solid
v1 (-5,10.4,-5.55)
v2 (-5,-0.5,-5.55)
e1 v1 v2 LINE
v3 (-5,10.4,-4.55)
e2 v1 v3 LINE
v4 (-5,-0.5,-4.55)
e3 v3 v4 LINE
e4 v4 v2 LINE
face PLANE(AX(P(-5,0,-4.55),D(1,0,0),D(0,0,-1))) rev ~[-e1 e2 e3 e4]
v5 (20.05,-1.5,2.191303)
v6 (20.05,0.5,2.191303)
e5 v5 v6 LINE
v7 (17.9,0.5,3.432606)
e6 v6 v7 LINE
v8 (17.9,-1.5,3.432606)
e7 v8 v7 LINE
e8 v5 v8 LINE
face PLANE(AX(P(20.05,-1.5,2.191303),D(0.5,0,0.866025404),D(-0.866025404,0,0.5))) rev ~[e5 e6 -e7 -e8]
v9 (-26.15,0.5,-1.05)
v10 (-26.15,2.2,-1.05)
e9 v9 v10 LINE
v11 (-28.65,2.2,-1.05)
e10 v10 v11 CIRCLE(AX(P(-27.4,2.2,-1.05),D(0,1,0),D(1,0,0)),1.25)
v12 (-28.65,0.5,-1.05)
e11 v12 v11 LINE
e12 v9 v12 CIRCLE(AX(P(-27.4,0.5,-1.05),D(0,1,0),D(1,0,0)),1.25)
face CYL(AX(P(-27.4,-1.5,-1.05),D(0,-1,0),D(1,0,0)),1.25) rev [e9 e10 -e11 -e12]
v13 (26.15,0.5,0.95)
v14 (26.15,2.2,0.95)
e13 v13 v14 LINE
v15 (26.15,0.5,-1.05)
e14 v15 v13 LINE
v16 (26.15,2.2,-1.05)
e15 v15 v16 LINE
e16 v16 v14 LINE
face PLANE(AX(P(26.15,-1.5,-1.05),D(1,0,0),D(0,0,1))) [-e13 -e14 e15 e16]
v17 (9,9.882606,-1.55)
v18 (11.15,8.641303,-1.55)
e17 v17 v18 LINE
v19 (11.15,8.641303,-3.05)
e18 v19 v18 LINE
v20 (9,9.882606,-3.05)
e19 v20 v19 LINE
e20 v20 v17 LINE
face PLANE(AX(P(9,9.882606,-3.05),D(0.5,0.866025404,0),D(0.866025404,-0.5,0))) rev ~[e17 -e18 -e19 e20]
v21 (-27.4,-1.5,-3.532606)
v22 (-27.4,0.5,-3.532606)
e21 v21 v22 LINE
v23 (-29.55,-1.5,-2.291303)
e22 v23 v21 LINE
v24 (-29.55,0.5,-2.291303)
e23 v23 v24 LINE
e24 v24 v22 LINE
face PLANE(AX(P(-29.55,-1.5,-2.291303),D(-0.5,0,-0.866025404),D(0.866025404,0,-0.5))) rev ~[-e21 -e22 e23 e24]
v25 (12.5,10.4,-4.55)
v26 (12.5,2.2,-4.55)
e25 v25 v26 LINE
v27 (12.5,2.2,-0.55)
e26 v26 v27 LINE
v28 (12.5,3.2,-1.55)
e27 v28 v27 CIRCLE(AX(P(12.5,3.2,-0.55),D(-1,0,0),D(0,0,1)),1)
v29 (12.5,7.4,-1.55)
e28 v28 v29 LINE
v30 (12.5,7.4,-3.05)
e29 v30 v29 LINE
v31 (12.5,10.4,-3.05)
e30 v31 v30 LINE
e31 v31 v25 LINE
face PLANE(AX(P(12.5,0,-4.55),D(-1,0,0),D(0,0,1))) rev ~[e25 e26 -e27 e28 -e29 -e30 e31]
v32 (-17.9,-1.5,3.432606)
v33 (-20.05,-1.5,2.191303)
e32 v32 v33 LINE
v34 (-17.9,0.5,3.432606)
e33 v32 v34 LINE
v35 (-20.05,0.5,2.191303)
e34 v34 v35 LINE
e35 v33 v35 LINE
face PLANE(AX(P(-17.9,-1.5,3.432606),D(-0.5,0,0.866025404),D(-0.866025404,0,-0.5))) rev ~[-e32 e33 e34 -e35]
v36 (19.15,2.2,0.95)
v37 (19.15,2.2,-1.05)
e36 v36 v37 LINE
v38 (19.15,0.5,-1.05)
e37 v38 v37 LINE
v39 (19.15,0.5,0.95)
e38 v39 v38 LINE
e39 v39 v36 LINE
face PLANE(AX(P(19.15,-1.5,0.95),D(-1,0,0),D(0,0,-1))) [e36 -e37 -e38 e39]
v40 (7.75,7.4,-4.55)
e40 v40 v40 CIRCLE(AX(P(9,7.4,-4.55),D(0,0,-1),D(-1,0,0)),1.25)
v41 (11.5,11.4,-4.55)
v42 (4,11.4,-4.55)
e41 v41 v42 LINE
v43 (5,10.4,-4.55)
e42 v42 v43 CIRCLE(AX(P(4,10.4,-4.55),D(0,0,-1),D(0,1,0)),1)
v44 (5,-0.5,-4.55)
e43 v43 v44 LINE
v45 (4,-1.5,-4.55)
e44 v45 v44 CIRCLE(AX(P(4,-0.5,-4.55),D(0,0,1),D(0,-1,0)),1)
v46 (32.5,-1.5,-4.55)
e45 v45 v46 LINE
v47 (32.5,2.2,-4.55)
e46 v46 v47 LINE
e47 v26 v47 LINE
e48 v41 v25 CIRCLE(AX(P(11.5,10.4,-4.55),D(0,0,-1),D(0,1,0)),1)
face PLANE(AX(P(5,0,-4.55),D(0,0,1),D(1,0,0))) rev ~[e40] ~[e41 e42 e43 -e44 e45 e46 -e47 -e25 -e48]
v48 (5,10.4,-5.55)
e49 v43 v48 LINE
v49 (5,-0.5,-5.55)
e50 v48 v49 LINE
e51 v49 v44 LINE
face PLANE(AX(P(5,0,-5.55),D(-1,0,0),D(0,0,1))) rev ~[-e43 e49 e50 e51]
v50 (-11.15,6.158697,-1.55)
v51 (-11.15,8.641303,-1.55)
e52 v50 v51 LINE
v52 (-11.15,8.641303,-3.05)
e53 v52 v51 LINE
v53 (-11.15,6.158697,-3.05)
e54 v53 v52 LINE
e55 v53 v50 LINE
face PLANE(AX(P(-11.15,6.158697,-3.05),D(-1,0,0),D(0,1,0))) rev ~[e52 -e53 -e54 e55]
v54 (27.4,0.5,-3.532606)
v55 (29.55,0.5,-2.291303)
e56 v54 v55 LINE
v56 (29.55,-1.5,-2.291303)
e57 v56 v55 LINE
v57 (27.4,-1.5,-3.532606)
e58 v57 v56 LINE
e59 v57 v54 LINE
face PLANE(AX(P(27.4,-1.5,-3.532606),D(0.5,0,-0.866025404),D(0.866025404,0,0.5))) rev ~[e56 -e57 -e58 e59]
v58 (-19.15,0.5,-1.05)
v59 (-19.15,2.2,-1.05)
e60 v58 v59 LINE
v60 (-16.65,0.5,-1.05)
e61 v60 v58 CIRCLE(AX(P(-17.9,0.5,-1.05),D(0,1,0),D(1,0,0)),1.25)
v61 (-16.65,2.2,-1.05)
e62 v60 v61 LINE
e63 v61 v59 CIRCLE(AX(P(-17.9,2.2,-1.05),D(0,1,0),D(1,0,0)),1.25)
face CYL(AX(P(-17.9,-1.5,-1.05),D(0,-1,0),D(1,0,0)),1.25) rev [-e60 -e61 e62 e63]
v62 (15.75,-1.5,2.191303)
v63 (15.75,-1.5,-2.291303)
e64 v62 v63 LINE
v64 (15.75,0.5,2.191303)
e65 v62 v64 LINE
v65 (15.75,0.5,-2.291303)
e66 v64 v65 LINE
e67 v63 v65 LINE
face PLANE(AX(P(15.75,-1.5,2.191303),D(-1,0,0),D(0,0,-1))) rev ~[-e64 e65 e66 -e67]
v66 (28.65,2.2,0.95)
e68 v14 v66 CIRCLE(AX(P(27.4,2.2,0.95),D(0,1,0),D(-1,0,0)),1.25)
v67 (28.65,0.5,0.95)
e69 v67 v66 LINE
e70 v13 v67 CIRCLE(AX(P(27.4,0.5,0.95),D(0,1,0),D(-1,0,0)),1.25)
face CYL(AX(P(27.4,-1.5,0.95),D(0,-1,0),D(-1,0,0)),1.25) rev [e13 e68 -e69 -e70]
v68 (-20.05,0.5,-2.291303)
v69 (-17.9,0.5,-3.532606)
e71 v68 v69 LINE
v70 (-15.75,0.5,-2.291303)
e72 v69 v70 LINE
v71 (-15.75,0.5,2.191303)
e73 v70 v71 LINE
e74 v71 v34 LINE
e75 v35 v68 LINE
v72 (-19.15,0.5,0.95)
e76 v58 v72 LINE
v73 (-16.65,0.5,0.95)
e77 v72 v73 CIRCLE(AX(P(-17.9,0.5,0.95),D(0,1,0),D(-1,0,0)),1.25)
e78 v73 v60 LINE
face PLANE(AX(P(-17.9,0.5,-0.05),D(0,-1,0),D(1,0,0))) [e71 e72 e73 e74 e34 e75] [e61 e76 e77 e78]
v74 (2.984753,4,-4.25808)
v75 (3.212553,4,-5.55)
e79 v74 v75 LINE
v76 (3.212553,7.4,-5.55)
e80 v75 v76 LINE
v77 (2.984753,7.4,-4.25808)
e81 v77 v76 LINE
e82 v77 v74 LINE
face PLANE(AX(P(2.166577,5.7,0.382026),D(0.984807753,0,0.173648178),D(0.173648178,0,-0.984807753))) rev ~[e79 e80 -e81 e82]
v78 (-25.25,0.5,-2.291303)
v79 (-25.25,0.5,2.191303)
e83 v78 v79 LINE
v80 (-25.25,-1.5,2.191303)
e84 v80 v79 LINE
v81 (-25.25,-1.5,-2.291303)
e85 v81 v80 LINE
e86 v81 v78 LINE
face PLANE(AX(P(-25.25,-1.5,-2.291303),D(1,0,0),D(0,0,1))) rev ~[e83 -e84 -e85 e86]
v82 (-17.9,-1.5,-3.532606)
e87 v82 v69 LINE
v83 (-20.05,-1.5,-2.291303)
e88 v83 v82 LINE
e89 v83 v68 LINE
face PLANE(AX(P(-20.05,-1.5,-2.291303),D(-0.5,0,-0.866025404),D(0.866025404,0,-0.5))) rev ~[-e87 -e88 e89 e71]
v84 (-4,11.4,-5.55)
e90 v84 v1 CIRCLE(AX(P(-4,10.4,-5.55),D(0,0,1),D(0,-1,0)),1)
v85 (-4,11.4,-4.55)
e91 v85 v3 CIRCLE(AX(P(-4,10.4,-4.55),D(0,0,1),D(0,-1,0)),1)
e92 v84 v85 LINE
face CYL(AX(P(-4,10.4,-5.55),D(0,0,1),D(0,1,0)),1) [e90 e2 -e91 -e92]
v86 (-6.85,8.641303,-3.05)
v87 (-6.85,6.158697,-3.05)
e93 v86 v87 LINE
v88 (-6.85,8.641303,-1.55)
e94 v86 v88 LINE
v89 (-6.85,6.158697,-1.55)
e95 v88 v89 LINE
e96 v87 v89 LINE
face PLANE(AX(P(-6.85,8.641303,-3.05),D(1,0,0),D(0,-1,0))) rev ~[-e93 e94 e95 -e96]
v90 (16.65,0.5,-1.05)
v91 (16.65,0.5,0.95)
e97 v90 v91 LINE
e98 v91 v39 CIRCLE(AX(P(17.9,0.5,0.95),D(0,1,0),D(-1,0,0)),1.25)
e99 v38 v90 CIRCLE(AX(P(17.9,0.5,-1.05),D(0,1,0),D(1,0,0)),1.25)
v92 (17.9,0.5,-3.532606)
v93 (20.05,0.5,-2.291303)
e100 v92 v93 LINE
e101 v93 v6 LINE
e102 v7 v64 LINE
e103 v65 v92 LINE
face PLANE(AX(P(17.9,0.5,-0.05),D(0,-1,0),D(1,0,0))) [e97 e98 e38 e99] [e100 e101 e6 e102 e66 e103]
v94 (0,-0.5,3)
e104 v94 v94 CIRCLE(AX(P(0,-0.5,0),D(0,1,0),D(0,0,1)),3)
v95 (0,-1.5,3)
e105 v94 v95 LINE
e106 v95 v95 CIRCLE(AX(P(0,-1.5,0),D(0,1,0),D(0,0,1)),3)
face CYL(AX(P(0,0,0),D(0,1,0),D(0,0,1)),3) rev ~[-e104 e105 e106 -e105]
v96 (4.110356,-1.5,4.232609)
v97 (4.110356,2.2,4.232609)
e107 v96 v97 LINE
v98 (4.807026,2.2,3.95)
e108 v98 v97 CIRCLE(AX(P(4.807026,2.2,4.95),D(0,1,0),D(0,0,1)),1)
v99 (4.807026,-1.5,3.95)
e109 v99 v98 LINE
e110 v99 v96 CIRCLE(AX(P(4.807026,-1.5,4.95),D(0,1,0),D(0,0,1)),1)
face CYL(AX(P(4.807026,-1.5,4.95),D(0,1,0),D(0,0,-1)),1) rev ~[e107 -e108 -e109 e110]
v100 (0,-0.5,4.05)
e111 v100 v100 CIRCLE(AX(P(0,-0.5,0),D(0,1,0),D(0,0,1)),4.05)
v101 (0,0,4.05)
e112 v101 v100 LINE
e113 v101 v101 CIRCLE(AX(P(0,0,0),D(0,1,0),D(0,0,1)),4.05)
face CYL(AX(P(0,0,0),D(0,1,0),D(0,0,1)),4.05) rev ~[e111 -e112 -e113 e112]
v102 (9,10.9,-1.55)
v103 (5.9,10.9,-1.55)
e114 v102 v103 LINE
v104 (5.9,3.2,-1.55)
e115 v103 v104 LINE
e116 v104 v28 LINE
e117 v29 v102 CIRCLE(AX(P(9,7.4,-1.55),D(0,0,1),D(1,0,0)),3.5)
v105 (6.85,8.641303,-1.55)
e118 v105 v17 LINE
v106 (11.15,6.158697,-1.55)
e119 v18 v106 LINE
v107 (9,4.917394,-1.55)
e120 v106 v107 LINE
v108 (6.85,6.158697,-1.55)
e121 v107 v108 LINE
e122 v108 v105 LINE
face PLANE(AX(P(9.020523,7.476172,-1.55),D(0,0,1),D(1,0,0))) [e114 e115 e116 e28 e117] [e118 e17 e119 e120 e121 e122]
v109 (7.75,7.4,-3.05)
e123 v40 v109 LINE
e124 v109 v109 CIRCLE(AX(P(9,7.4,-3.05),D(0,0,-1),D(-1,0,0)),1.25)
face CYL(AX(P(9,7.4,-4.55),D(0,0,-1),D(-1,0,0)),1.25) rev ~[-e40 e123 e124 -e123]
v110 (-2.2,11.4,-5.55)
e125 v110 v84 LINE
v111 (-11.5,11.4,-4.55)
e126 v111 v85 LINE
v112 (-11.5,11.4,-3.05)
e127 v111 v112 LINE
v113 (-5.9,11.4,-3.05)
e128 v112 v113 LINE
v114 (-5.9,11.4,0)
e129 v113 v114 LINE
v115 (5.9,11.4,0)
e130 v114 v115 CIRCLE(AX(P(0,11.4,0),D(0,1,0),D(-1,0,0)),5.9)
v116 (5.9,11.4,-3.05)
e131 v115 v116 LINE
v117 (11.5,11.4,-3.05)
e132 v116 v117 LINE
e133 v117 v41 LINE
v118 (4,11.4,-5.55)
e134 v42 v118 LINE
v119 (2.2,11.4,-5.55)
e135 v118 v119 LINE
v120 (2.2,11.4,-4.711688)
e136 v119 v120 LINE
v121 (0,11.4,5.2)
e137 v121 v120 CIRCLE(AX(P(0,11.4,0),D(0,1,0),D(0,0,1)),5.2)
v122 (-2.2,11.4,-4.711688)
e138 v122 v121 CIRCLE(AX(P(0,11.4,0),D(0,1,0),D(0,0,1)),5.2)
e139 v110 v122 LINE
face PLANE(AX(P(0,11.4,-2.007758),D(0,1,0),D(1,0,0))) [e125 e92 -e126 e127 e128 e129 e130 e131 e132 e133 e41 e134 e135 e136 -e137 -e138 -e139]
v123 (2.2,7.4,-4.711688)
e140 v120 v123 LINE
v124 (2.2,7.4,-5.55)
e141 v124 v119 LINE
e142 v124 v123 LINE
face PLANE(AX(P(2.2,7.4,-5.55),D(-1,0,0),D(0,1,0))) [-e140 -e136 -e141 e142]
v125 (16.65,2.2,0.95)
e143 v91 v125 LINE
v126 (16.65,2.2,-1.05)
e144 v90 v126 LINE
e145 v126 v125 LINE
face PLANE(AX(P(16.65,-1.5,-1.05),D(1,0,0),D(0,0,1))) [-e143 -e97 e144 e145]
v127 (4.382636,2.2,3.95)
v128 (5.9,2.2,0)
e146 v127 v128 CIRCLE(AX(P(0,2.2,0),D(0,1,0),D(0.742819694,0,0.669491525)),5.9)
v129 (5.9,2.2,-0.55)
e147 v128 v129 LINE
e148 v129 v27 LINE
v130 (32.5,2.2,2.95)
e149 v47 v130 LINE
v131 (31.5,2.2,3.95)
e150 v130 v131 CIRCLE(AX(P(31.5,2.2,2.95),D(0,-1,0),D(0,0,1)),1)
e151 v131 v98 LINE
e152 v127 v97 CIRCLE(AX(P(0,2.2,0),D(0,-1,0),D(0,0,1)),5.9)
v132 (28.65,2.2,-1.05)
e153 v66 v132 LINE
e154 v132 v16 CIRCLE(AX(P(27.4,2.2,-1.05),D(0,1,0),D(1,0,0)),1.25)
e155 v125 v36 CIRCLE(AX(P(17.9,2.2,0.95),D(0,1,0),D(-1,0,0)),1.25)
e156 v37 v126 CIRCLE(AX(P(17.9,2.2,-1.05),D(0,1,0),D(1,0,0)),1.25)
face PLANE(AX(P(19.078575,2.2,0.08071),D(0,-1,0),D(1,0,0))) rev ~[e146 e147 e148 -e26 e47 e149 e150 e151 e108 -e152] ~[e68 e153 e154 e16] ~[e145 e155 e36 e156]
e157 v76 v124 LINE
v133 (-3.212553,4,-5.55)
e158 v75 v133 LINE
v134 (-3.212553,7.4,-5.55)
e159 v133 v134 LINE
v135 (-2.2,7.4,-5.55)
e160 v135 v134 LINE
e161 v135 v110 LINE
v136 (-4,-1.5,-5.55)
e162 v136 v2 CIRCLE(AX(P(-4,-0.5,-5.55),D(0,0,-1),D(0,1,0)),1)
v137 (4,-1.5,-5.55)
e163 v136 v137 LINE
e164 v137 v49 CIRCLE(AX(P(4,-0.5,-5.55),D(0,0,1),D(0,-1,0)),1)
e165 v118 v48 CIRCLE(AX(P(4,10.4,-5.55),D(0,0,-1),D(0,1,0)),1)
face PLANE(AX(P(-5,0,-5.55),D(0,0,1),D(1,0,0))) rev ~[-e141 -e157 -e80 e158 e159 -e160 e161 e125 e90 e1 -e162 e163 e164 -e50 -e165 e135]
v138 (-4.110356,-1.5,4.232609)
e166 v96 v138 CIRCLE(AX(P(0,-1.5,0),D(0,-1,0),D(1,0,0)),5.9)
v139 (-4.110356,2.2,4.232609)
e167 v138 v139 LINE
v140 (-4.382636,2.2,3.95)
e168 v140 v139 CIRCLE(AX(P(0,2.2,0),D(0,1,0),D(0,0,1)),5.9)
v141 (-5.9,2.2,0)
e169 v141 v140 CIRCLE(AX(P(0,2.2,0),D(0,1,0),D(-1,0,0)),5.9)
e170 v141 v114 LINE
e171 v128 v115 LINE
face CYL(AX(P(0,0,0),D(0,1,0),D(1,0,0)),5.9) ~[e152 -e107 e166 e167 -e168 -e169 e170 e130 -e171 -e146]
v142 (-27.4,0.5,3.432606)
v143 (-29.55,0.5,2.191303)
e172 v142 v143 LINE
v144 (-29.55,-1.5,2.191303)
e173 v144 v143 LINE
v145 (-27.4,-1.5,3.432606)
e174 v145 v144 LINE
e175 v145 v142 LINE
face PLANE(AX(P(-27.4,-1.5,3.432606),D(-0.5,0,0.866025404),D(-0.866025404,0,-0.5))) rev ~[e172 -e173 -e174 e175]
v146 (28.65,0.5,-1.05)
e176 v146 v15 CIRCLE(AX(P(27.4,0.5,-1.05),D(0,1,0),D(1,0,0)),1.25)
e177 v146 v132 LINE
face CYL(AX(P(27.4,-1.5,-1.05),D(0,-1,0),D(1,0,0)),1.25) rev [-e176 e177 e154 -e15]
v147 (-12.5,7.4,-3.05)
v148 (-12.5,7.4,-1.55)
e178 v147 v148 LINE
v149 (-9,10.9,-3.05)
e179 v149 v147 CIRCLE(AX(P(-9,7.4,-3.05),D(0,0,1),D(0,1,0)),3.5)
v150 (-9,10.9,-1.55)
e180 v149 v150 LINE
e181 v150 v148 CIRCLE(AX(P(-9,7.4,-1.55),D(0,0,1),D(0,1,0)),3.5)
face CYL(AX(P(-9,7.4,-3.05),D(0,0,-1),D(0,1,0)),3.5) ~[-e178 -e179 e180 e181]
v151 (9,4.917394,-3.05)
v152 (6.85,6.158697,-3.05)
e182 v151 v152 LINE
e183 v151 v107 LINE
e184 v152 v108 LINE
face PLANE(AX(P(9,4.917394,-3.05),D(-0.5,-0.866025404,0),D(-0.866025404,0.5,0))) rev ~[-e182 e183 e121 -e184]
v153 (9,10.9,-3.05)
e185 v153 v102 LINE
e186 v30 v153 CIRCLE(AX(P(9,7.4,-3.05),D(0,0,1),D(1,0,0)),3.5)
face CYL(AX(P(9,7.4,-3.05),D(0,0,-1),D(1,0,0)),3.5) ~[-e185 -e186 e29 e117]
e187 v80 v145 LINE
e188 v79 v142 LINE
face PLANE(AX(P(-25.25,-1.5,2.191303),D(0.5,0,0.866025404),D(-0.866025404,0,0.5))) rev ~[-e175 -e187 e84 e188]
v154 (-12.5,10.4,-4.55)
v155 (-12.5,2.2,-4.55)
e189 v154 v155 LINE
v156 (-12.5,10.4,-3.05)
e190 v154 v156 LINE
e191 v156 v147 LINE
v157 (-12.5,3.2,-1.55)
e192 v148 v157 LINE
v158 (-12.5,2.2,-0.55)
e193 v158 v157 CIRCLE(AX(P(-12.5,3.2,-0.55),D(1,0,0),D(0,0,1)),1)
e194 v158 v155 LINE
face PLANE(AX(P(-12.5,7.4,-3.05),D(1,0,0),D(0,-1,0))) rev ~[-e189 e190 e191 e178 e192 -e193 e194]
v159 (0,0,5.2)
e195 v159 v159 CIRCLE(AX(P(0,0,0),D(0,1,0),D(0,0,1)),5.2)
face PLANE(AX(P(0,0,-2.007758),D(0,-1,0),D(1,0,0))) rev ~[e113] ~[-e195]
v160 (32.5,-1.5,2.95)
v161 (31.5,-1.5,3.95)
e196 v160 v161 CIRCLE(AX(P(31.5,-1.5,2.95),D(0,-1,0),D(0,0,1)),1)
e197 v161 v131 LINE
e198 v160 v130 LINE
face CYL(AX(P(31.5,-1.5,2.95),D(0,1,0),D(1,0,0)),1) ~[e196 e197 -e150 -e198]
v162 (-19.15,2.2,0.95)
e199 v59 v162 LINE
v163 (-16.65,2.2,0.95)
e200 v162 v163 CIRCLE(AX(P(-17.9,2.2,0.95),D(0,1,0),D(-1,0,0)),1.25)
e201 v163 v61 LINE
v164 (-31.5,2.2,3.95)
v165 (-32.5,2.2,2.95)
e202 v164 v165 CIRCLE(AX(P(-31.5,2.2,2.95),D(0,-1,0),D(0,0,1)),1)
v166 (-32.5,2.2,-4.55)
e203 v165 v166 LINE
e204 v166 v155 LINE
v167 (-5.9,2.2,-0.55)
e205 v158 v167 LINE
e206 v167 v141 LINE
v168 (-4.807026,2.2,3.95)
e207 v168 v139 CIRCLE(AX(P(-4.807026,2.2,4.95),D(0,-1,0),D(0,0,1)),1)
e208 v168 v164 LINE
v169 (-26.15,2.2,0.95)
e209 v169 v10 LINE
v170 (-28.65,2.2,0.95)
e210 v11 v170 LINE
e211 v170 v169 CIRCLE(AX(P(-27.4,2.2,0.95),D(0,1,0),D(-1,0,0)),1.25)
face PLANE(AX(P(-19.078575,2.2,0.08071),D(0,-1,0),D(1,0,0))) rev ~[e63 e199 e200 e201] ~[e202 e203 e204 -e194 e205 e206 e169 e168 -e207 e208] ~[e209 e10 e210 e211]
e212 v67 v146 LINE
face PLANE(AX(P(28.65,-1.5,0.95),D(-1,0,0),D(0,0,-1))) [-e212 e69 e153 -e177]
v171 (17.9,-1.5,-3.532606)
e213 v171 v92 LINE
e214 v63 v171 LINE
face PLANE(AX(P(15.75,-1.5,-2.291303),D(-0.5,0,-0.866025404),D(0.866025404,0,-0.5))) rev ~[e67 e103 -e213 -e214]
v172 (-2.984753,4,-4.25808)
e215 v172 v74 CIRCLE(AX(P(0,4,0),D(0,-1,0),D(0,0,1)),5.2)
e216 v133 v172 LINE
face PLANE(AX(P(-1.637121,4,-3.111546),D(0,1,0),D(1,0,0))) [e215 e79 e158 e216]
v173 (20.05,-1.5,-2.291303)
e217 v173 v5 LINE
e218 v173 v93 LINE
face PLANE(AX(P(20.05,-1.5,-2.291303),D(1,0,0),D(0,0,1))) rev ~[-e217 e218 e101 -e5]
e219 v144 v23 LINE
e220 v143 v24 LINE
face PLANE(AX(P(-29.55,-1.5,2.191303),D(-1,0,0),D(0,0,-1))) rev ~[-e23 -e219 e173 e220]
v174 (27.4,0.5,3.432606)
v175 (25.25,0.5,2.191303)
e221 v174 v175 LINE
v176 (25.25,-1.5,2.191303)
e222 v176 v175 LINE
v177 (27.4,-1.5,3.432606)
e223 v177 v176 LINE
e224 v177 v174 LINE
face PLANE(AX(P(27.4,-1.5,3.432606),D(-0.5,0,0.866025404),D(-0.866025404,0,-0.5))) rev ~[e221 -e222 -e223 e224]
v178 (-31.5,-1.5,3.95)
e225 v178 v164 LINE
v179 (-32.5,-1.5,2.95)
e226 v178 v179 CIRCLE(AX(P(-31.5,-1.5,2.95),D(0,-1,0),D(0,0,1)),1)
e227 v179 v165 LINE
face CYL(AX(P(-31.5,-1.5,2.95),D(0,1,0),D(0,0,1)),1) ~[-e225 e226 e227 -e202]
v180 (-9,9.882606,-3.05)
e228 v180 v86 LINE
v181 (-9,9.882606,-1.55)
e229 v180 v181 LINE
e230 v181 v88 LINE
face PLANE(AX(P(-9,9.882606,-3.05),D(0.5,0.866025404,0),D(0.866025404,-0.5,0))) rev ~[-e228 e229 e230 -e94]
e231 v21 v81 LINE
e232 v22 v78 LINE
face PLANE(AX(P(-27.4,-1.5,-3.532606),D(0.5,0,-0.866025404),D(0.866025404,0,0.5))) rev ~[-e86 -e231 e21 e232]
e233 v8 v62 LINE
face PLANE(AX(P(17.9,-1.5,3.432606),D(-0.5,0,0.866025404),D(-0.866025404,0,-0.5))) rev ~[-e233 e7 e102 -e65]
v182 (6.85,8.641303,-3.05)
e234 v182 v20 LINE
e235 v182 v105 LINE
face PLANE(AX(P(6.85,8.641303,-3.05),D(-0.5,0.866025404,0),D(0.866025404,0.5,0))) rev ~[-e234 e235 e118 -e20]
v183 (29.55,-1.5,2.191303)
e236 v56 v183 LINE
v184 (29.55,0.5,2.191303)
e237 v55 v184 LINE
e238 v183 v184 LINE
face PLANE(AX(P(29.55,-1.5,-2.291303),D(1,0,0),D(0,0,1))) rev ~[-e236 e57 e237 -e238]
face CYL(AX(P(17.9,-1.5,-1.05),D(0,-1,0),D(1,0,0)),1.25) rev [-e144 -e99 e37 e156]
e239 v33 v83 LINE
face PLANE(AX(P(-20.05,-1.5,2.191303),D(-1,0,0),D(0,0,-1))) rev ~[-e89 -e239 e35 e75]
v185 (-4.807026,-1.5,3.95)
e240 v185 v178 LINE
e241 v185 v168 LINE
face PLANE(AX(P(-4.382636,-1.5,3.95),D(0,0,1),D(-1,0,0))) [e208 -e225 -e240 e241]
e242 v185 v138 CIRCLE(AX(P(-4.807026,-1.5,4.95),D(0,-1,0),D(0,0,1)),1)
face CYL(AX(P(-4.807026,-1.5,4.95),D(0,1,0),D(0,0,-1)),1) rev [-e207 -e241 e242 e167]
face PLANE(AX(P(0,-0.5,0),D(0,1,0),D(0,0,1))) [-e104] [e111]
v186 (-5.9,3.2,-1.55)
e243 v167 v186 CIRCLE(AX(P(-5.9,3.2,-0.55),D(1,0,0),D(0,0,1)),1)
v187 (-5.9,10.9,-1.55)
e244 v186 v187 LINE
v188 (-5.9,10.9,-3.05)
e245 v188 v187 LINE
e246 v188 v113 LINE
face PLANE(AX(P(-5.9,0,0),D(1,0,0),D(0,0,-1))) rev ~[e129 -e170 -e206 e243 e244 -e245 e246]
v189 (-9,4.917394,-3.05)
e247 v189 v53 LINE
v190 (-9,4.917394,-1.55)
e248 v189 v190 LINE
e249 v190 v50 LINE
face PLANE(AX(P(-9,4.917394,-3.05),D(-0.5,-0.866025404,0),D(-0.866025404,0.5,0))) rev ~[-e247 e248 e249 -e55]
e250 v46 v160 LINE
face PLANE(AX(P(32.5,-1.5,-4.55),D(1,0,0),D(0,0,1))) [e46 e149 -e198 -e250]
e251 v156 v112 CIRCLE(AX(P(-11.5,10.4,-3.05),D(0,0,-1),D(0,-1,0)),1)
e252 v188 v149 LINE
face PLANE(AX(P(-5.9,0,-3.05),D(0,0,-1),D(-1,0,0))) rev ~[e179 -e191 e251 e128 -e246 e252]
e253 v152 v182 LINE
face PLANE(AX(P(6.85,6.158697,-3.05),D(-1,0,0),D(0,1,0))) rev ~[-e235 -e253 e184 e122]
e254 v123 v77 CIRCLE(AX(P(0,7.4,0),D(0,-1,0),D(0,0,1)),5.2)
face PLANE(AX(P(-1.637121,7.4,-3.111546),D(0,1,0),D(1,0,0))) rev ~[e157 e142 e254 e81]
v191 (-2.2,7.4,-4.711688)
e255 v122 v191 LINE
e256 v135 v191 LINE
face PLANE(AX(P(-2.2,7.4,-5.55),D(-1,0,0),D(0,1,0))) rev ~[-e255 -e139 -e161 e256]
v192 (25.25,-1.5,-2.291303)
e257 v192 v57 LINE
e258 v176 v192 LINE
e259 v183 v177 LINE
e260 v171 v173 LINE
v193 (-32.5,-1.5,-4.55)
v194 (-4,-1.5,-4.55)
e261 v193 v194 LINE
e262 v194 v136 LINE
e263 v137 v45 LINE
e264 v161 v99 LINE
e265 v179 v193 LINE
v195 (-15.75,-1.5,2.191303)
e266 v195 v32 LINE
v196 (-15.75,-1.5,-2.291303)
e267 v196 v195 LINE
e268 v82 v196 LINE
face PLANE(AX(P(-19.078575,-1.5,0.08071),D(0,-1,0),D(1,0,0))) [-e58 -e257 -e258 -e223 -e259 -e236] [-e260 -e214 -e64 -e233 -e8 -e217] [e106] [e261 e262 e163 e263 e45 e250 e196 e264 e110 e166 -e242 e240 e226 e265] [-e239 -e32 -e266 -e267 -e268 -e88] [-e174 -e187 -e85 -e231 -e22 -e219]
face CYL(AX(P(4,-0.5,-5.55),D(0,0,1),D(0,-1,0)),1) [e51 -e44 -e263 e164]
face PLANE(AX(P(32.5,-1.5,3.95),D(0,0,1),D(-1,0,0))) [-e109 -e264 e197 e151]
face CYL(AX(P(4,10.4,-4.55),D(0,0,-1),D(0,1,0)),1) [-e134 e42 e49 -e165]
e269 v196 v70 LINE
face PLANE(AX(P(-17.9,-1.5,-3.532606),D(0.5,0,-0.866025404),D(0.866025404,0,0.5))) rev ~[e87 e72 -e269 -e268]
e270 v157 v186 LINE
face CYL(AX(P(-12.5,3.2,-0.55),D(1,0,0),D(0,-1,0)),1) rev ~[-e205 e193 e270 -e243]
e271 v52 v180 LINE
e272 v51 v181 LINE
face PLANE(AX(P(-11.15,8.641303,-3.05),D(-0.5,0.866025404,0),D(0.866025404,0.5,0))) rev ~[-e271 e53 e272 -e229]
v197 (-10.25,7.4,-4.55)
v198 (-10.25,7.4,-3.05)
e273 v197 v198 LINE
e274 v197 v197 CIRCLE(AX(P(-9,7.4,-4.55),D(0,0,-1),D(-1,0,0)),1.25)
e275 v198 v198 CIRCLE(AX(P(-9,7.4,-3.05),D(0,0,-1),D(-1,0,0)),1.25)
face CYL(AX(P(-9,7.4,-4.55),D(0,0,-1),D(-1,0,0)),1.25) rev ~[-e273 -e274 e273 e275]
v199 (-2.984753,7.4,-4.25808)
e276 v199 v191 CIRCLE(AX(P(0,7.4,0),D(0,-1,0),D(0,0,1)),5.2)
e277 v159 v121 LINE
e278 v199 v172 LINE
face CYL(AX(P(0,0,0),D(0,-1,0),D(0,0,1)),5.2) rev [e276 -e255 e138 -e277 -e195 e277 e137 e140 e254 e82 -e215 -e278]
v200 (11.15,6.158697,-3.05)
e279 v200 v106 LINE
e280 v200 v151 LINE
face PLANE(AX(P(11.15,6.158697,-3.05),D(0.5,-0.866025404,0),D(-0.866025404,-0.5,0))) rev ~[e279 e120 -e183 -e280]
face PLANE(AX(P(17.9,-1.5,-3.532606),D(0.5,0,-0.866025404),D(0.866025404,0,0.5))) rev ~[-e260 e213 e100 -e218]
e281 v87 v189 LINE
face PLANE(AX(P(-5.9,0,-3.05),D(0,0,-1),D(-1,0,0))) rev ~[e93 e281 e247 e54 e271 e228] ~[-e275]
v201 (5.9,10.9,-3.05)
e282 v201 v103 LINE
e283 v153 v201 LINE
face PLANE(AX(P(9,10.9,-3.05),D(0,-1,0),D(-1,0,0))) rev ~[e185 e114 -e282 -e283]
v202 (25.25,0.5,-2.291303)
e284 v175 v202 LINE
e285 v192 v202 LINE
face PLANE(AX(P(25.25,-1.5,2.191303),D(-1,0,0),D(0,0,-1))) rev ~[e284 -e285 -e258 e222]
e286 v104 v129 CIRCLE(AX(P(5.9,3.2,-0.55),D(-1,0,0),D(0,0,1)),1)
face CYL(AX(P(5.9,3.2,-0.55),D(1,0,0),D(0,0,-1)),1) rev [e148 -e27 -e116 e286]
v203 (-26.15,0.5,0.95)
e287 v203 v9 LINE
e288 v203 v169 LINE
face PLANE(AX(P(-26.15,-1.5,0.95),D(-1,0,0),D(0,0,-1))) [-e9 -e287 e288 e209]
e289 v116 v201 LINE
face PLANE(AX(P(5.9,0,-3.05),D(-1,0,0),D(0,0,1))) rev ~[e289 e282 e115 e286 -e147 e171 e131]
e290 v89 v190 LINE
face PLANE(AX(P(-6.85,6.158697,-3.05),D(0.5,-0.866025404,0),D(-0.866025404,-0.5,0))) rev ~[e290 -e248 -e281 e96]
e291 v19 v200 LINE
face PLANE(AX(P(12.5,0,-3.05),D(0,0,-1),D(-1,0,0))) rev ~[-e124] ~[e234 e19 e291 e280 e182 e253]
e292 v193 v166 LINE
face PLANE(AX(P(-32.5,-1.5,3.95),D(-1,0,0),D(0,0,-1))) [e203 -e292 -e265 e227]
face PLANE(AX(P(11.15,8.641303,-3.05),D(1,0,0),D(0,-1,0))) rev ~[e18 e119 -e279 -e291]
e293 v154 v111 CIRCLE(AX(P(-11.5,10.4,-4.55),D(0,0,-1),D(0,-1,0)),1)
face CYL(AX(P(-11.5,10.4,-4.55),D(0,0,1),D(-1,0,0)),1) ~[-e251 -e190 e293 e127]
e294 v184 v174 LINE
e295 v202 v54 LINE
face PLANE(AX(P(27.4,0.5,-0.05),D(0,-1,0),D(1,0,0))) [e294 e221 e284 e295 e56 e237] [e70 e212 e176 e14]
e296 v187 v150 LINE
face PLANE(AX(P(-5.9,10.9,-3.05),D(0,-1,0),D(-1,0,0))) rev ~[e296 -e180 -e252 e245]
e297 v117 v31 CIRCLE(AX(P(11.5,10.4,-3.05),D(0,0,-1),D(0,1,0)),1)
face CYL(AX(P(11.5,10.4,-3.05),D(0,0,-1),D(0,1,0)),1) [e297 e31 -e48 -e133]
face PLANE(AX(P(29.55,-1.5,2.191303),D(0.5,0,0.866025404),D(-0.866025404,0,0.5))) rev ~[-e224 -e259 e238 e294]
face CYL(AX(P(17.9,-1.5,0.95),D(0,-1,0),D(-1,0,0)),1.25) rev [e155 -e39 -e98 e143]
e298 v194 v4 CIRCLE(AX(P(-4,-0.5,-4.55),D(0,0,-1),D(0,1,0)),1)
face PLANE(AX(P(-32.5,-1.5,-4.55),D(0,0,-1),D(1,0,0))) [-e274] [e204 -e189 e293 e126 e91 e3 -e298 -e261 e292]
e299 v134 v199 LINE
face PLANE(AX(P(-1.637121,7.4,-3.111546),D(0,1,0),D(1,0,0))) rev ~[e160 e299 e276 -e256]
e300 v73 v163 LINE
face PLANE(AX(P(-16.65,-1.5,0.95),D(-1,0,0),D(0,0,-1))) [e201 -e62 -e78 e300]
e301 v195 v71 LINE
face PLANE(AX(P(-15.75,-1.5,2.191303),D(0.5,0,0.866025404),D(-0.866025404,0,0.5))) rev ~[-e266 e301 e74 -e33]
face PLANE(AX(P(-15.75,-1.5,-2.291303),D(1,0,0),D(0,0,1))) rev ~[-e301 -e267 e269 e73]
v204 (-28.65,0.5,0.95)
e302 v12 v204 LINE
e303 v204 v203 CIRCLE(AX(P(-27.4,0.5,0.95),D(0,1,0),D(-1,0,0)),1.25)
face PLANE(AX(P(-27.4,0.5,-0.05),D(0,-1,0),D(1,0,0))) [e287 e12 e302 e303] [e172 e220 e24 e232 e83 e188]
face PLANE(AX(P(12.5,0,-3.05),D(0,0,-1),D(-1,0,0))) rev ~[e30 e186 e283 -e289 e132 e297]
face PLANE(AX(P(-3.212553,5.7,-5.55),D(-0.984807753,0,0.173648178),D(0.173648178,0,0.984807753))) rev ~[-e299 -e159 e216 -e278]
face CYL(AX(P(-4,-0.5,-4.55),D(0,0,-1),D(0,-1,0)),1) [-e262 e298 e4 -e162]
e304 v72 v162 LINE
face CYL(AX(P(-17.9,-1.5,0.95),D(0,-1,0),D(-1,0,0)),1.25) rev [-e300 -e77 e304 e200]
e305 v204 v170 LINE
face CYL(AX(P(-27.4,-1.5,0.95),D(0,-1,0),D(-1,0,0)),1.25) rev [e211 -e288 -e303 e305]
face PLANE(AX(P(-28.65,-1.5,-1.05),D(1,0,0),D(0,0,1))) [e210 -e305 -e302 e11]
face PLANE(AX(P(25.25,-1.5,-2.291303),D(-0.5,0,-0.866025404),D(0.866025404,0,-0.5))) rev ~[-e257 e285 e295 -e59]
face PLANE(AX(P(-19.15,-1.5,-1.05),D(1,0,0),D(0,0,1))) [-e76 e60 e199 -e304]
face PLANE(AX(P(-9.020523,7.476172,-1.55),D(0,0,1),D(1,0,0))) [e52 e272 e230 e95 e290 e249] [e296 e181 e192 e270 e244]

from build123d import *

# Parameters (mm, degrees)
SKETCH1_R                         = 5.2
BASE_SHAPE_DEPTH                  = 11.4
BOTTOM_EXTRUDE_DEPTH              = 1.5
PIN_CUT_REACH                     = 19.917
SKETCH3_R                         = 3
M2_SCREW_HOLES_REACH              = 21.885
SKETCH5_R                         = 1.25
EXTRA_THREAD_EXTRUDES_DEPTH       = 1.5
SKETCH7_R                         = 4.05
INNER_BEARING_FREE_CUT_DEPTH      = 0.5
BUMPER_CUT_DEPTH                  = 1.7
MILLED_HOLE_FILLETS_R             = 1
BUMPER_BODY_TOP_CUT_REACH         = 22.428
BUMPER_BODY_TOP_CUT_END_RADIUS    = 5.2
SKETCH9_W                         = 4.4
SKETCH9_H                         = 4
BUMPER_SWITCH_MOUNT_EXTRUDE_DEPTH = 3.7
BUMPER_SWITCH_MOUNT_FILLETS_R     = 1
BUMPER_SWITCH_NUT_CUTS_DEPTH      = 2


with BuildPart() as part:
    # Sketch1 → Base shape (new body)
    with BuildSketch(Plane(origin=(0, 0, 0), x_dir=(1, 0, 0), z_dir=(0, 1, 0))):
        with BuildLine():
            ThreePointArc((-5.9, 0), (0, -5.9), (5.9, 0))
            Line((5.9, 0), (5.9, 3.05))
            Line((5.9, 3.05), (12.5, 3.05))
            Line((12.5, 3.05), (12.5, 4.55))
            Line((12.5, 4.55), (5, 4.55))
            Line((5, 4.55), (5, 5.55))
            Line((5, 5.55), (-5, 5.55))
            Line((-5, 5.55), (-5, 4.55))
            Line((-5, 4.55), (-12.5, 4.55))
            Line((-12.5, 4.55), (-12.5, 3.05))
            Line((-12.5, 3.05), (-5.9, 3.05))
            Line((-5.9, 3.05), (-5.9, 0))
        make_face()
        with Locations(Location((0, 0, 0), (0, 0, 270))):
            Circle(SKETCH1_R, mode=Mode.SUBTRACT)
    extrude(amount=BASE_SHAPE_DEPTH)

    # Sketch2 → Bottom extrude (add)
    with BuildSketch(Plane.XZ):
        with BuildLine():
            Line((-5.9, -3.05), (-12.5, -3.05))
            Line((-12.5, -3.05), (-12.5, -4.55))
            Line((-12.5, -4.55), (-5, -4.55))
            Line((-5, -4.55), (-5, -5.55))
            Line((-5, -5.55), (5, -5.55))
            Line((5, -5.55), (5, -4.55))
            Line((5, -4.55), (12.5, -4.55))
            Line((12.5, -4.55), (12.5, -3.05))
            Line((12.5, -3.05), (5.9, -3.05))
            Line((5.9, -3.05), (5.9, 0))
            ThreePointArc((5.9, 0), (0, 5.9), (-5.9, 0))
            Line((-5.9, 0), (-5.9, -3.05))
        make_face()
    extrude(amount=BOTTOM_EXTRUDE_DEPTH)

    # Sketch3 → Pin cut (cut, up to next)
    with BuildSketch(Plane(origin=(0, 0, 0), x_dir=(1, 0, 0), z_dir=(0, 1, 0)), mode=Mode.PRIVATE) as pin_cut_sk1:
        with Locations(Location((0, 0, 0), (0, 0, 270))):
            Circle(SKETCH3_R)
    pin_cut_tool1 = extrude(pin_cut_sk1.sketch, amount=-PIN_CUT_REACH, mode=Mode.PRIVATE) & part.part
    add(pin_cut_tool1.solids().sort_by_distance((0, 0, 0))[0], mode=Mode.SUBTRACT)

    # Sketch5 → M2 screw holes (cut, up to next)
    with BuildSketch(Plane(origin=(0, 0, -4.55), x_dir=(-1, 0, 0), z_dir=(0, 0, -1)), mode=Mode.PRIVATE) as m2_screw_holes_sk1:
        with Locations((-9, 7.4)):
            Circle(SKETCH5_R)
    m2_screw_holes_tool1 = extrude(m2_screw_holes_sk1.sketch, amount=-M2_SCREW_HOLES_REACH, mode=Mode.PRIVATE) & part.part
    # Sketch5 → M2 screw holes (cut, up to next)
    with BuildSketch(Plane(origin=(0, 0, -4.55), x_dir=(-1, 0, 0), z_dir=(0, 0, -1)), mode=Mode.PRIVATE) as m2_screw_holes_sk2:
        with Locations((9, 7.4)):
            Circle(SKETCH5_R)
    m2_screw_holes_tool2 = extrude(m2_screw_holes_sk2.sketch, amount=-M2_SCREW_HOLES_REACH, mode=Mode.PRIVATE) & part.part
    add(m2_screw_holes_tool1.solids().sort_by_distance((9, 7.4, -4.55))[0], mode=Mode.SUBTRACT)
    add(m2_screw_holes_tool2.solids().sort_by_distance((-9, 7.4, -4.55))[0], mode=Mode.SUBTRACT)

    # Sketch6 → Extra thread extrudes (add)
    with BuildSketch(Plane.XY.offset(-3.05)):
        with BuildLine():
            Line((-5.9, 5.775192319), (-5.9, 9.024807681))
            ThreePointArc((-5.9, 9.024807681), (-7.18848501, 10.394730946), (-9, 10.9))
            ThreePointArc((-9, 10.9), (-11.474873734, 9.874873734), (-12.5, 7.4))
            ThreePointArc((-12.5, 7.4), (-9.836660027, 4.001470906), (-5.9, 5.775192319))
        make_face()
        Polygon((-11.15, 8.641303079), (-9, 9.882606158), (-6.85, 8.641303079), (-6.85, 6.158696921), (-9, 4.917393842), (-11.15, 6.158696921), align=None, mode=Mode.SUBTRACT)
        with BuildLine():
            Line((-5.9, -1.5), (-5.9, 5.775192319))
            ThreePointArc((-5.9, 5.775192319), (-9.836660027, 4.001470906), (-12.5, 7.4))
            Line((-12.5, 7.4), (-12.5, -1.5))
            Line((-12.5, -1.5), (-5.9, -1.5))
        make_face()
        with BuildLine():
            ThreePointArc((5.9, 5.775192319), (9.836660027, 4.001470906), (12.5, 7.4))
            ThreePointArc((12.5, 7.4), (11.474873734, 9.874873734), (9, 10.9))
            ThreePointArc((9, 10.9), (7.18848501, 10.394730946), (5.9, 9.024807681))
            Line((5.9, 9.024807681), (5.9, 5.775192319))
        make_face()
        Polygon((6.85, 6.158696921), (6.85, 8.641303079), (9, 9.882606158), (11.15, 8.641303079), (11.15, 6.158696921), (9, 4.917393842), align=None, mode=Mode.SUBTRACT)
        with BuildLine():
            Line((5.9, -1.5), (12.5, -1.5))
            Line((12.5, -1.5), (12.5, 7.4))
            ThreePointArc((12.5, 7.4), (9.836660027, 4.001470906), (5.9, 5.775192319))
            Line((5.9, 5.775192319), (5.9, -1.5))
        make_face()
        with BuildLine():
            ThreePointArc((5.9, 9.024807681), (7.18848501, 10.394730946), (9, 10.9))
            Line((9, 10.9), (5.9, 10.9))
            Line((5.9, 10.9), (5.9, 9.024807681))
        make_face()
        with BuildLine():
            Line((-5.9, 9.024807681), (-5.9, 10.9))
            Line((-5.9, 10.9), (-9, 10.9))
            ThreePointArc((-9, 10.9), (-7.18848501, 10.394730946), (-5.9, 9.024807681))
        make_face()
    extrude(amount=EXTRA_THREAD_EXTRUDES_DEPTH)

    # Sketch7 → Inner bearing free cut (cut)
    with BuildSketch(Plane(origin=(0, 0, 0), x_dir=(1, 0, 0), z_dir=(0, 1, 0))):
        with Locations(Location((0, 0, 0), (0, 0, 270))):
            Circle(SKETCH7_R)
    extrude(amount=-INNER_BEARING_FREE_CUT_DEPTH, mode=Mode.SUBTRACT)

    # Sketch8 → Bumper cut (cut, symmetric)
    with BuildSketch(Plane(origin=(0, 5.7, 0), x_dir=(1, 0, 0), z_dir=(0, 1, 0))):
        with BuildLine():
            Line((-3.212553289, 5.55), (-2.166577057, -0.382025991))
            ThreePointArc((-2.166577057, -0.382025991), (-1.685297775, 1.414132741), (0, 2.2))
            Line((0, 2.2), (0, 5.55))
            Line((0, 5.55), (-3.212553289, 5.55))
        make_face()
        with BuildLine():
            Line((0, 5.55), (0, 2.2))
            ThreePointArc((0, 2.2), (1.555634919, 1.555634919), (2.2, 0))
            ThreePointArc((2.2, 0), (2.191628336, -0.191742634), (2.166577057, -0.382025991))
            Line((2.166577057, -0.382025991), (3.212553289, 5.55))
            Line((3.212553289, 5.55), (0, 5.55))
        make_face()
        with BuildLine():
            ThreePointArc((0, 2.2), (-1.685297775, 1.414132741), (-2.166577057, -0.382025991))
            ThreePointArc((-2.166577057, -0.382025991), (-1.414132741, -1.685297775), (0, -2.2))
            Line((0, -2.2), (0, 2.2))
        make_face()
        with BuildLine():
            ThreePointArc((2.2, 0), (1.555634919, 1.555634919), (0, 2.2))
            Line((0, 2.2), (0, -2.2))
            ThreePointArc((0, -2.2), (1.414132741, -1.685297775), (2.166577057, -0.382025991))
            ThreePointArc((2.166577057, -0.382025991), (2.191628336, -0.191742634), (2.2, 0))
        make_face()
    extrude(amount=BUMPER_CUT_DEPTH, both=True, mode=Mode.SUBTRACT)

    # Milled hole fillets
    milled_hole_fillets_edges = [part.edges().sort_by_distance(p)[0] for p in [
        (12.5, 11.4, -3.8),
        (5, 11.4, -5.05),
        (-5, 11.4, -5.05),
        (-12.5, 11.4, -3.8),
        (-5, -1.5, -5.05),
        (5, -1.5, -5.05),
    ]]
    fillet(milled_hole_fillets_edges, radius=MILLED_HOLE_FILLETS_R)

    # Bumper body top cut: up to this cylinder (the profile starts outside it)
    bumper_body_top_cut_end = Plane(origin=(0, 9.4, 0), z_dir=(0, -1, 0)) * Cylinder(BUMPER_BODY_TOP_CUT_END_RADIUS, 56.256, mode=Mode.PRIVATE)
    # Sketch9 → Bumper body top cut (cut, up to the surface)
    with BuildSketch(Plane(origin=(0, 0, -5.55), x_dir=(-1, 0, 0), z_dir=(0, 0, -1)), mode=Mode.PRIVATE) as bumper_body_top_cut_sk1:
        with Locations((0, 9.4)):
            Rectangle(SKETCH9_W, SKETCH9_H)
    bumper_body_top_cut_tool1 = extrude(bumper_body_top_cut_sk1.sketch, amount=-BUMPER_BODY_TOP_CUT_REACH, mode=Mode.PRIVATE) - bumper_body_top_cut_end
    add(bumper_body_top_cut_tool1.solids().sort_by_distance((0, 9.4, -5.55))[0], mode=Mode.SUBTRACT)

    # Sketch10 → Bumper switch mount extrude (add)
    with BuildSketch(Plane.XZ.offset(1.5)):
        with BuildLine():
            Line((-4.382636193, 3.95), (-32.5, 3.95))
            Line((-32.5, 3.95), (-32.5, -4.55))
            Line((-32.5, -4.55), (-12.5, -4.55))
            Line((-12.5, -4.55), (-12.5, -1.55))
            Line((-12.5, -1.55), (-5.9, -1.55))
            Line((-5.9, -1.55), (-5.9, 0))
            ThreePointArc((-5.9, 0), (-5.507610804, 2.115708683), (-4.382636193, 3.95))
        make_face()
        with BuildLine():
            Line((-19.15, -1.05), (-19.15, 0.95))
            ThreePointArc((-19.15, 0.95), (-17.9, 2.2), (-16.65, 0.95))
            Line((-16.65, 0.95), (-16.65, -1.05))
            ThreePointArc((-16.65, -1.05), (-17.9, -2.3), (-19.15, -1.05))
        make_face(mode=Mode.SUBTRACT)
        with BuildLine():
            Line((-26.15, 0.95), (-26.15, -1.05))
            ThreePointArc((-26.15, -1.05), (-27.4, -2.3), (-28.65, -1.05))
            Line((-28.65, -1.05), (-28.65, 0.95))
            ThreePointArc((-28.65, 0.95), (-27.4, 2.2), (-26.15, 0.95))
        make_face(mode=Mode.SUBTRACT)
        with BuildLine():
            Line((32.5, 3.95), (4.382636193, 3.95))
            ThreePointArc((4.382636193, 3.95), (5.507610804, 2.115708683), (5.9, 0))
            Line((5.9, 0), (5.9, -1.55))
            Line((5.9, -1.55), (12.5, -1.55))
            Line((12.5, -1.55), (12.5, -4.55))
            Line((12.5, -4.55), (32.5, -4.55))
            Line((32.5, -4.55), (32.5, 3.95))
        make_face()
        with BuildLine():
            Line((19.15, 0.95), (19.15, -1.05))
            ThreePointArc((19.15, -1.05), (17.9, -2.3), (16.65, -1.05))
            Line((16.65, -1.05), (16.65, 0.95))
            ThreePointArc((16.65, 0.95), (17.9, 2.2), (19.15, 0.95))
        make_face(mode=Mode.SUBTRACT)
        with BuildLine():
            ThreePointArc((28.65, -1.05), (27.4, -2.3), (26.15, -1.05))
            Line((26.15, -1.05), (26.15, 0.95))
            ThreePointArc((26.15, 0.95), (27.4, 2.2), (28.65, 0.95))
            Line((28.65, 0.95), (28.65, -1.05))
        make_face(mode=Mode.SUBTRACT)
    extrude(amount=-BUMPER_SWITCH_MOUNT_EXTRUDE_DEPTH)

    # Bumper switch mount fillets
    bumper_switch_mount_fillets_edges = [part.edges().sort_by_distance(p)[0] for p in [
        (-32.5, 0.35, 3.95),
        (-4.382636193, 0.35, 3.95),
        (-9.2, 2.2, -1.55),
        (4.382636193, 0.35, 3.95),
        (32.5, 0.35, 3.95),
        (9.2, 2.2, -1.55),
    ]]
    fillet(bumper_switch_mount_fillets_edges, radius=BUMPER_SWITCH_MOUNT_FILLETS_R)

    # Sketch12 → Bumper switch nut cuts (cut)
    with BuildSketch(Plane.XZ.offset(1.5)):
        Polygon((-25.25, 2.191303079), (-27.4, 3.432606158), (-29.55, 2.191303079), (-29.55, -2.291303079), (-27.4, -3.532606158), (-25.25, -2.291303079), align=None)
        with BuildLine():
            Line((-26.15, 0.95), (-26.15, -1.05))
            ThreePointArc((-26.15, -1.05), (-27.4, -2.3), (-28.65, -1.05))
            Line((-28.65, -1.05), (-28.65, 0.95))
            ThreePointArc((-28.65, 0.95), (-27.4, 2.2), (-26.15, 0.95))
        make_face(mode=Mode.SUBTRACT)
        Polygon((-20.05, -2.291303079), (-17.9, -3.532606158), (-15.75, -2.291303079), (-15.75, 2.191303079), (-17.9, 3.432606158), (-20.05, 2.191303079), align=None)
        with BuildLine():
            Line((-19.15, -1.05), (-19.15, 0.95))
            ThreePointArc((-19.15, 0.95), (-17.9, 2.2), (-16.65, 0.95))
            Line((-16.65, 0.95), (-16.65, -1.05))
            ThreePointArc((-16.65, -1.05), (-17.9, -2.3), (-19.15, -1.05))
        make_face(mode=Mode.SUBTRACT)
        Polygon((15.75, -2.291303079), (17.9, -3.532606158), (20.05, -2.291303079), (20.05, 2.191303079), (17.9, 3.432606158), (15.75, 2.191303079), align=None)
        with BuildLine():
            ThreePointArc((16.65, 0.95), (17.9, 2.2), (19.15, 0.95))
            Line((19.15, 0.95), (19.15, -1.05))
            ThreePointArc((19.15, -1.05), (17.9, -2.3), (16.65, -1.05))
            Line((16.65, -1.05), (16.65, 0.95))
        make_face(mode=Mode.SUBTRACT)
        Polygon((27.4, -3.532606158), (29.55, -2.291303079), (29.55, 2.191303079), (27.4, 3.432606158), (25.25, 2.191303079), (25.25, -2.291303079), align=None)
        with BuildLine():
            ThreePointArc((28.65, -1.05), (27.4, -2.3), (26.15, -1.05))
            Line((26.15, -1.05), (26.15, 0.95))
            ThreePointArc((26.15, 0.95), (27.4, 2.2), (28.65, 0.95))
            Line((28.65, 0.95), (28.65, -1.05))
        make_face(mode=Mode.SUBTRACT)
    extrude(amount=-BUMPER_SWITCH_NUT_CUTS_DEPTH, mode=Mode.SUBTRACT)


solid = part.part
